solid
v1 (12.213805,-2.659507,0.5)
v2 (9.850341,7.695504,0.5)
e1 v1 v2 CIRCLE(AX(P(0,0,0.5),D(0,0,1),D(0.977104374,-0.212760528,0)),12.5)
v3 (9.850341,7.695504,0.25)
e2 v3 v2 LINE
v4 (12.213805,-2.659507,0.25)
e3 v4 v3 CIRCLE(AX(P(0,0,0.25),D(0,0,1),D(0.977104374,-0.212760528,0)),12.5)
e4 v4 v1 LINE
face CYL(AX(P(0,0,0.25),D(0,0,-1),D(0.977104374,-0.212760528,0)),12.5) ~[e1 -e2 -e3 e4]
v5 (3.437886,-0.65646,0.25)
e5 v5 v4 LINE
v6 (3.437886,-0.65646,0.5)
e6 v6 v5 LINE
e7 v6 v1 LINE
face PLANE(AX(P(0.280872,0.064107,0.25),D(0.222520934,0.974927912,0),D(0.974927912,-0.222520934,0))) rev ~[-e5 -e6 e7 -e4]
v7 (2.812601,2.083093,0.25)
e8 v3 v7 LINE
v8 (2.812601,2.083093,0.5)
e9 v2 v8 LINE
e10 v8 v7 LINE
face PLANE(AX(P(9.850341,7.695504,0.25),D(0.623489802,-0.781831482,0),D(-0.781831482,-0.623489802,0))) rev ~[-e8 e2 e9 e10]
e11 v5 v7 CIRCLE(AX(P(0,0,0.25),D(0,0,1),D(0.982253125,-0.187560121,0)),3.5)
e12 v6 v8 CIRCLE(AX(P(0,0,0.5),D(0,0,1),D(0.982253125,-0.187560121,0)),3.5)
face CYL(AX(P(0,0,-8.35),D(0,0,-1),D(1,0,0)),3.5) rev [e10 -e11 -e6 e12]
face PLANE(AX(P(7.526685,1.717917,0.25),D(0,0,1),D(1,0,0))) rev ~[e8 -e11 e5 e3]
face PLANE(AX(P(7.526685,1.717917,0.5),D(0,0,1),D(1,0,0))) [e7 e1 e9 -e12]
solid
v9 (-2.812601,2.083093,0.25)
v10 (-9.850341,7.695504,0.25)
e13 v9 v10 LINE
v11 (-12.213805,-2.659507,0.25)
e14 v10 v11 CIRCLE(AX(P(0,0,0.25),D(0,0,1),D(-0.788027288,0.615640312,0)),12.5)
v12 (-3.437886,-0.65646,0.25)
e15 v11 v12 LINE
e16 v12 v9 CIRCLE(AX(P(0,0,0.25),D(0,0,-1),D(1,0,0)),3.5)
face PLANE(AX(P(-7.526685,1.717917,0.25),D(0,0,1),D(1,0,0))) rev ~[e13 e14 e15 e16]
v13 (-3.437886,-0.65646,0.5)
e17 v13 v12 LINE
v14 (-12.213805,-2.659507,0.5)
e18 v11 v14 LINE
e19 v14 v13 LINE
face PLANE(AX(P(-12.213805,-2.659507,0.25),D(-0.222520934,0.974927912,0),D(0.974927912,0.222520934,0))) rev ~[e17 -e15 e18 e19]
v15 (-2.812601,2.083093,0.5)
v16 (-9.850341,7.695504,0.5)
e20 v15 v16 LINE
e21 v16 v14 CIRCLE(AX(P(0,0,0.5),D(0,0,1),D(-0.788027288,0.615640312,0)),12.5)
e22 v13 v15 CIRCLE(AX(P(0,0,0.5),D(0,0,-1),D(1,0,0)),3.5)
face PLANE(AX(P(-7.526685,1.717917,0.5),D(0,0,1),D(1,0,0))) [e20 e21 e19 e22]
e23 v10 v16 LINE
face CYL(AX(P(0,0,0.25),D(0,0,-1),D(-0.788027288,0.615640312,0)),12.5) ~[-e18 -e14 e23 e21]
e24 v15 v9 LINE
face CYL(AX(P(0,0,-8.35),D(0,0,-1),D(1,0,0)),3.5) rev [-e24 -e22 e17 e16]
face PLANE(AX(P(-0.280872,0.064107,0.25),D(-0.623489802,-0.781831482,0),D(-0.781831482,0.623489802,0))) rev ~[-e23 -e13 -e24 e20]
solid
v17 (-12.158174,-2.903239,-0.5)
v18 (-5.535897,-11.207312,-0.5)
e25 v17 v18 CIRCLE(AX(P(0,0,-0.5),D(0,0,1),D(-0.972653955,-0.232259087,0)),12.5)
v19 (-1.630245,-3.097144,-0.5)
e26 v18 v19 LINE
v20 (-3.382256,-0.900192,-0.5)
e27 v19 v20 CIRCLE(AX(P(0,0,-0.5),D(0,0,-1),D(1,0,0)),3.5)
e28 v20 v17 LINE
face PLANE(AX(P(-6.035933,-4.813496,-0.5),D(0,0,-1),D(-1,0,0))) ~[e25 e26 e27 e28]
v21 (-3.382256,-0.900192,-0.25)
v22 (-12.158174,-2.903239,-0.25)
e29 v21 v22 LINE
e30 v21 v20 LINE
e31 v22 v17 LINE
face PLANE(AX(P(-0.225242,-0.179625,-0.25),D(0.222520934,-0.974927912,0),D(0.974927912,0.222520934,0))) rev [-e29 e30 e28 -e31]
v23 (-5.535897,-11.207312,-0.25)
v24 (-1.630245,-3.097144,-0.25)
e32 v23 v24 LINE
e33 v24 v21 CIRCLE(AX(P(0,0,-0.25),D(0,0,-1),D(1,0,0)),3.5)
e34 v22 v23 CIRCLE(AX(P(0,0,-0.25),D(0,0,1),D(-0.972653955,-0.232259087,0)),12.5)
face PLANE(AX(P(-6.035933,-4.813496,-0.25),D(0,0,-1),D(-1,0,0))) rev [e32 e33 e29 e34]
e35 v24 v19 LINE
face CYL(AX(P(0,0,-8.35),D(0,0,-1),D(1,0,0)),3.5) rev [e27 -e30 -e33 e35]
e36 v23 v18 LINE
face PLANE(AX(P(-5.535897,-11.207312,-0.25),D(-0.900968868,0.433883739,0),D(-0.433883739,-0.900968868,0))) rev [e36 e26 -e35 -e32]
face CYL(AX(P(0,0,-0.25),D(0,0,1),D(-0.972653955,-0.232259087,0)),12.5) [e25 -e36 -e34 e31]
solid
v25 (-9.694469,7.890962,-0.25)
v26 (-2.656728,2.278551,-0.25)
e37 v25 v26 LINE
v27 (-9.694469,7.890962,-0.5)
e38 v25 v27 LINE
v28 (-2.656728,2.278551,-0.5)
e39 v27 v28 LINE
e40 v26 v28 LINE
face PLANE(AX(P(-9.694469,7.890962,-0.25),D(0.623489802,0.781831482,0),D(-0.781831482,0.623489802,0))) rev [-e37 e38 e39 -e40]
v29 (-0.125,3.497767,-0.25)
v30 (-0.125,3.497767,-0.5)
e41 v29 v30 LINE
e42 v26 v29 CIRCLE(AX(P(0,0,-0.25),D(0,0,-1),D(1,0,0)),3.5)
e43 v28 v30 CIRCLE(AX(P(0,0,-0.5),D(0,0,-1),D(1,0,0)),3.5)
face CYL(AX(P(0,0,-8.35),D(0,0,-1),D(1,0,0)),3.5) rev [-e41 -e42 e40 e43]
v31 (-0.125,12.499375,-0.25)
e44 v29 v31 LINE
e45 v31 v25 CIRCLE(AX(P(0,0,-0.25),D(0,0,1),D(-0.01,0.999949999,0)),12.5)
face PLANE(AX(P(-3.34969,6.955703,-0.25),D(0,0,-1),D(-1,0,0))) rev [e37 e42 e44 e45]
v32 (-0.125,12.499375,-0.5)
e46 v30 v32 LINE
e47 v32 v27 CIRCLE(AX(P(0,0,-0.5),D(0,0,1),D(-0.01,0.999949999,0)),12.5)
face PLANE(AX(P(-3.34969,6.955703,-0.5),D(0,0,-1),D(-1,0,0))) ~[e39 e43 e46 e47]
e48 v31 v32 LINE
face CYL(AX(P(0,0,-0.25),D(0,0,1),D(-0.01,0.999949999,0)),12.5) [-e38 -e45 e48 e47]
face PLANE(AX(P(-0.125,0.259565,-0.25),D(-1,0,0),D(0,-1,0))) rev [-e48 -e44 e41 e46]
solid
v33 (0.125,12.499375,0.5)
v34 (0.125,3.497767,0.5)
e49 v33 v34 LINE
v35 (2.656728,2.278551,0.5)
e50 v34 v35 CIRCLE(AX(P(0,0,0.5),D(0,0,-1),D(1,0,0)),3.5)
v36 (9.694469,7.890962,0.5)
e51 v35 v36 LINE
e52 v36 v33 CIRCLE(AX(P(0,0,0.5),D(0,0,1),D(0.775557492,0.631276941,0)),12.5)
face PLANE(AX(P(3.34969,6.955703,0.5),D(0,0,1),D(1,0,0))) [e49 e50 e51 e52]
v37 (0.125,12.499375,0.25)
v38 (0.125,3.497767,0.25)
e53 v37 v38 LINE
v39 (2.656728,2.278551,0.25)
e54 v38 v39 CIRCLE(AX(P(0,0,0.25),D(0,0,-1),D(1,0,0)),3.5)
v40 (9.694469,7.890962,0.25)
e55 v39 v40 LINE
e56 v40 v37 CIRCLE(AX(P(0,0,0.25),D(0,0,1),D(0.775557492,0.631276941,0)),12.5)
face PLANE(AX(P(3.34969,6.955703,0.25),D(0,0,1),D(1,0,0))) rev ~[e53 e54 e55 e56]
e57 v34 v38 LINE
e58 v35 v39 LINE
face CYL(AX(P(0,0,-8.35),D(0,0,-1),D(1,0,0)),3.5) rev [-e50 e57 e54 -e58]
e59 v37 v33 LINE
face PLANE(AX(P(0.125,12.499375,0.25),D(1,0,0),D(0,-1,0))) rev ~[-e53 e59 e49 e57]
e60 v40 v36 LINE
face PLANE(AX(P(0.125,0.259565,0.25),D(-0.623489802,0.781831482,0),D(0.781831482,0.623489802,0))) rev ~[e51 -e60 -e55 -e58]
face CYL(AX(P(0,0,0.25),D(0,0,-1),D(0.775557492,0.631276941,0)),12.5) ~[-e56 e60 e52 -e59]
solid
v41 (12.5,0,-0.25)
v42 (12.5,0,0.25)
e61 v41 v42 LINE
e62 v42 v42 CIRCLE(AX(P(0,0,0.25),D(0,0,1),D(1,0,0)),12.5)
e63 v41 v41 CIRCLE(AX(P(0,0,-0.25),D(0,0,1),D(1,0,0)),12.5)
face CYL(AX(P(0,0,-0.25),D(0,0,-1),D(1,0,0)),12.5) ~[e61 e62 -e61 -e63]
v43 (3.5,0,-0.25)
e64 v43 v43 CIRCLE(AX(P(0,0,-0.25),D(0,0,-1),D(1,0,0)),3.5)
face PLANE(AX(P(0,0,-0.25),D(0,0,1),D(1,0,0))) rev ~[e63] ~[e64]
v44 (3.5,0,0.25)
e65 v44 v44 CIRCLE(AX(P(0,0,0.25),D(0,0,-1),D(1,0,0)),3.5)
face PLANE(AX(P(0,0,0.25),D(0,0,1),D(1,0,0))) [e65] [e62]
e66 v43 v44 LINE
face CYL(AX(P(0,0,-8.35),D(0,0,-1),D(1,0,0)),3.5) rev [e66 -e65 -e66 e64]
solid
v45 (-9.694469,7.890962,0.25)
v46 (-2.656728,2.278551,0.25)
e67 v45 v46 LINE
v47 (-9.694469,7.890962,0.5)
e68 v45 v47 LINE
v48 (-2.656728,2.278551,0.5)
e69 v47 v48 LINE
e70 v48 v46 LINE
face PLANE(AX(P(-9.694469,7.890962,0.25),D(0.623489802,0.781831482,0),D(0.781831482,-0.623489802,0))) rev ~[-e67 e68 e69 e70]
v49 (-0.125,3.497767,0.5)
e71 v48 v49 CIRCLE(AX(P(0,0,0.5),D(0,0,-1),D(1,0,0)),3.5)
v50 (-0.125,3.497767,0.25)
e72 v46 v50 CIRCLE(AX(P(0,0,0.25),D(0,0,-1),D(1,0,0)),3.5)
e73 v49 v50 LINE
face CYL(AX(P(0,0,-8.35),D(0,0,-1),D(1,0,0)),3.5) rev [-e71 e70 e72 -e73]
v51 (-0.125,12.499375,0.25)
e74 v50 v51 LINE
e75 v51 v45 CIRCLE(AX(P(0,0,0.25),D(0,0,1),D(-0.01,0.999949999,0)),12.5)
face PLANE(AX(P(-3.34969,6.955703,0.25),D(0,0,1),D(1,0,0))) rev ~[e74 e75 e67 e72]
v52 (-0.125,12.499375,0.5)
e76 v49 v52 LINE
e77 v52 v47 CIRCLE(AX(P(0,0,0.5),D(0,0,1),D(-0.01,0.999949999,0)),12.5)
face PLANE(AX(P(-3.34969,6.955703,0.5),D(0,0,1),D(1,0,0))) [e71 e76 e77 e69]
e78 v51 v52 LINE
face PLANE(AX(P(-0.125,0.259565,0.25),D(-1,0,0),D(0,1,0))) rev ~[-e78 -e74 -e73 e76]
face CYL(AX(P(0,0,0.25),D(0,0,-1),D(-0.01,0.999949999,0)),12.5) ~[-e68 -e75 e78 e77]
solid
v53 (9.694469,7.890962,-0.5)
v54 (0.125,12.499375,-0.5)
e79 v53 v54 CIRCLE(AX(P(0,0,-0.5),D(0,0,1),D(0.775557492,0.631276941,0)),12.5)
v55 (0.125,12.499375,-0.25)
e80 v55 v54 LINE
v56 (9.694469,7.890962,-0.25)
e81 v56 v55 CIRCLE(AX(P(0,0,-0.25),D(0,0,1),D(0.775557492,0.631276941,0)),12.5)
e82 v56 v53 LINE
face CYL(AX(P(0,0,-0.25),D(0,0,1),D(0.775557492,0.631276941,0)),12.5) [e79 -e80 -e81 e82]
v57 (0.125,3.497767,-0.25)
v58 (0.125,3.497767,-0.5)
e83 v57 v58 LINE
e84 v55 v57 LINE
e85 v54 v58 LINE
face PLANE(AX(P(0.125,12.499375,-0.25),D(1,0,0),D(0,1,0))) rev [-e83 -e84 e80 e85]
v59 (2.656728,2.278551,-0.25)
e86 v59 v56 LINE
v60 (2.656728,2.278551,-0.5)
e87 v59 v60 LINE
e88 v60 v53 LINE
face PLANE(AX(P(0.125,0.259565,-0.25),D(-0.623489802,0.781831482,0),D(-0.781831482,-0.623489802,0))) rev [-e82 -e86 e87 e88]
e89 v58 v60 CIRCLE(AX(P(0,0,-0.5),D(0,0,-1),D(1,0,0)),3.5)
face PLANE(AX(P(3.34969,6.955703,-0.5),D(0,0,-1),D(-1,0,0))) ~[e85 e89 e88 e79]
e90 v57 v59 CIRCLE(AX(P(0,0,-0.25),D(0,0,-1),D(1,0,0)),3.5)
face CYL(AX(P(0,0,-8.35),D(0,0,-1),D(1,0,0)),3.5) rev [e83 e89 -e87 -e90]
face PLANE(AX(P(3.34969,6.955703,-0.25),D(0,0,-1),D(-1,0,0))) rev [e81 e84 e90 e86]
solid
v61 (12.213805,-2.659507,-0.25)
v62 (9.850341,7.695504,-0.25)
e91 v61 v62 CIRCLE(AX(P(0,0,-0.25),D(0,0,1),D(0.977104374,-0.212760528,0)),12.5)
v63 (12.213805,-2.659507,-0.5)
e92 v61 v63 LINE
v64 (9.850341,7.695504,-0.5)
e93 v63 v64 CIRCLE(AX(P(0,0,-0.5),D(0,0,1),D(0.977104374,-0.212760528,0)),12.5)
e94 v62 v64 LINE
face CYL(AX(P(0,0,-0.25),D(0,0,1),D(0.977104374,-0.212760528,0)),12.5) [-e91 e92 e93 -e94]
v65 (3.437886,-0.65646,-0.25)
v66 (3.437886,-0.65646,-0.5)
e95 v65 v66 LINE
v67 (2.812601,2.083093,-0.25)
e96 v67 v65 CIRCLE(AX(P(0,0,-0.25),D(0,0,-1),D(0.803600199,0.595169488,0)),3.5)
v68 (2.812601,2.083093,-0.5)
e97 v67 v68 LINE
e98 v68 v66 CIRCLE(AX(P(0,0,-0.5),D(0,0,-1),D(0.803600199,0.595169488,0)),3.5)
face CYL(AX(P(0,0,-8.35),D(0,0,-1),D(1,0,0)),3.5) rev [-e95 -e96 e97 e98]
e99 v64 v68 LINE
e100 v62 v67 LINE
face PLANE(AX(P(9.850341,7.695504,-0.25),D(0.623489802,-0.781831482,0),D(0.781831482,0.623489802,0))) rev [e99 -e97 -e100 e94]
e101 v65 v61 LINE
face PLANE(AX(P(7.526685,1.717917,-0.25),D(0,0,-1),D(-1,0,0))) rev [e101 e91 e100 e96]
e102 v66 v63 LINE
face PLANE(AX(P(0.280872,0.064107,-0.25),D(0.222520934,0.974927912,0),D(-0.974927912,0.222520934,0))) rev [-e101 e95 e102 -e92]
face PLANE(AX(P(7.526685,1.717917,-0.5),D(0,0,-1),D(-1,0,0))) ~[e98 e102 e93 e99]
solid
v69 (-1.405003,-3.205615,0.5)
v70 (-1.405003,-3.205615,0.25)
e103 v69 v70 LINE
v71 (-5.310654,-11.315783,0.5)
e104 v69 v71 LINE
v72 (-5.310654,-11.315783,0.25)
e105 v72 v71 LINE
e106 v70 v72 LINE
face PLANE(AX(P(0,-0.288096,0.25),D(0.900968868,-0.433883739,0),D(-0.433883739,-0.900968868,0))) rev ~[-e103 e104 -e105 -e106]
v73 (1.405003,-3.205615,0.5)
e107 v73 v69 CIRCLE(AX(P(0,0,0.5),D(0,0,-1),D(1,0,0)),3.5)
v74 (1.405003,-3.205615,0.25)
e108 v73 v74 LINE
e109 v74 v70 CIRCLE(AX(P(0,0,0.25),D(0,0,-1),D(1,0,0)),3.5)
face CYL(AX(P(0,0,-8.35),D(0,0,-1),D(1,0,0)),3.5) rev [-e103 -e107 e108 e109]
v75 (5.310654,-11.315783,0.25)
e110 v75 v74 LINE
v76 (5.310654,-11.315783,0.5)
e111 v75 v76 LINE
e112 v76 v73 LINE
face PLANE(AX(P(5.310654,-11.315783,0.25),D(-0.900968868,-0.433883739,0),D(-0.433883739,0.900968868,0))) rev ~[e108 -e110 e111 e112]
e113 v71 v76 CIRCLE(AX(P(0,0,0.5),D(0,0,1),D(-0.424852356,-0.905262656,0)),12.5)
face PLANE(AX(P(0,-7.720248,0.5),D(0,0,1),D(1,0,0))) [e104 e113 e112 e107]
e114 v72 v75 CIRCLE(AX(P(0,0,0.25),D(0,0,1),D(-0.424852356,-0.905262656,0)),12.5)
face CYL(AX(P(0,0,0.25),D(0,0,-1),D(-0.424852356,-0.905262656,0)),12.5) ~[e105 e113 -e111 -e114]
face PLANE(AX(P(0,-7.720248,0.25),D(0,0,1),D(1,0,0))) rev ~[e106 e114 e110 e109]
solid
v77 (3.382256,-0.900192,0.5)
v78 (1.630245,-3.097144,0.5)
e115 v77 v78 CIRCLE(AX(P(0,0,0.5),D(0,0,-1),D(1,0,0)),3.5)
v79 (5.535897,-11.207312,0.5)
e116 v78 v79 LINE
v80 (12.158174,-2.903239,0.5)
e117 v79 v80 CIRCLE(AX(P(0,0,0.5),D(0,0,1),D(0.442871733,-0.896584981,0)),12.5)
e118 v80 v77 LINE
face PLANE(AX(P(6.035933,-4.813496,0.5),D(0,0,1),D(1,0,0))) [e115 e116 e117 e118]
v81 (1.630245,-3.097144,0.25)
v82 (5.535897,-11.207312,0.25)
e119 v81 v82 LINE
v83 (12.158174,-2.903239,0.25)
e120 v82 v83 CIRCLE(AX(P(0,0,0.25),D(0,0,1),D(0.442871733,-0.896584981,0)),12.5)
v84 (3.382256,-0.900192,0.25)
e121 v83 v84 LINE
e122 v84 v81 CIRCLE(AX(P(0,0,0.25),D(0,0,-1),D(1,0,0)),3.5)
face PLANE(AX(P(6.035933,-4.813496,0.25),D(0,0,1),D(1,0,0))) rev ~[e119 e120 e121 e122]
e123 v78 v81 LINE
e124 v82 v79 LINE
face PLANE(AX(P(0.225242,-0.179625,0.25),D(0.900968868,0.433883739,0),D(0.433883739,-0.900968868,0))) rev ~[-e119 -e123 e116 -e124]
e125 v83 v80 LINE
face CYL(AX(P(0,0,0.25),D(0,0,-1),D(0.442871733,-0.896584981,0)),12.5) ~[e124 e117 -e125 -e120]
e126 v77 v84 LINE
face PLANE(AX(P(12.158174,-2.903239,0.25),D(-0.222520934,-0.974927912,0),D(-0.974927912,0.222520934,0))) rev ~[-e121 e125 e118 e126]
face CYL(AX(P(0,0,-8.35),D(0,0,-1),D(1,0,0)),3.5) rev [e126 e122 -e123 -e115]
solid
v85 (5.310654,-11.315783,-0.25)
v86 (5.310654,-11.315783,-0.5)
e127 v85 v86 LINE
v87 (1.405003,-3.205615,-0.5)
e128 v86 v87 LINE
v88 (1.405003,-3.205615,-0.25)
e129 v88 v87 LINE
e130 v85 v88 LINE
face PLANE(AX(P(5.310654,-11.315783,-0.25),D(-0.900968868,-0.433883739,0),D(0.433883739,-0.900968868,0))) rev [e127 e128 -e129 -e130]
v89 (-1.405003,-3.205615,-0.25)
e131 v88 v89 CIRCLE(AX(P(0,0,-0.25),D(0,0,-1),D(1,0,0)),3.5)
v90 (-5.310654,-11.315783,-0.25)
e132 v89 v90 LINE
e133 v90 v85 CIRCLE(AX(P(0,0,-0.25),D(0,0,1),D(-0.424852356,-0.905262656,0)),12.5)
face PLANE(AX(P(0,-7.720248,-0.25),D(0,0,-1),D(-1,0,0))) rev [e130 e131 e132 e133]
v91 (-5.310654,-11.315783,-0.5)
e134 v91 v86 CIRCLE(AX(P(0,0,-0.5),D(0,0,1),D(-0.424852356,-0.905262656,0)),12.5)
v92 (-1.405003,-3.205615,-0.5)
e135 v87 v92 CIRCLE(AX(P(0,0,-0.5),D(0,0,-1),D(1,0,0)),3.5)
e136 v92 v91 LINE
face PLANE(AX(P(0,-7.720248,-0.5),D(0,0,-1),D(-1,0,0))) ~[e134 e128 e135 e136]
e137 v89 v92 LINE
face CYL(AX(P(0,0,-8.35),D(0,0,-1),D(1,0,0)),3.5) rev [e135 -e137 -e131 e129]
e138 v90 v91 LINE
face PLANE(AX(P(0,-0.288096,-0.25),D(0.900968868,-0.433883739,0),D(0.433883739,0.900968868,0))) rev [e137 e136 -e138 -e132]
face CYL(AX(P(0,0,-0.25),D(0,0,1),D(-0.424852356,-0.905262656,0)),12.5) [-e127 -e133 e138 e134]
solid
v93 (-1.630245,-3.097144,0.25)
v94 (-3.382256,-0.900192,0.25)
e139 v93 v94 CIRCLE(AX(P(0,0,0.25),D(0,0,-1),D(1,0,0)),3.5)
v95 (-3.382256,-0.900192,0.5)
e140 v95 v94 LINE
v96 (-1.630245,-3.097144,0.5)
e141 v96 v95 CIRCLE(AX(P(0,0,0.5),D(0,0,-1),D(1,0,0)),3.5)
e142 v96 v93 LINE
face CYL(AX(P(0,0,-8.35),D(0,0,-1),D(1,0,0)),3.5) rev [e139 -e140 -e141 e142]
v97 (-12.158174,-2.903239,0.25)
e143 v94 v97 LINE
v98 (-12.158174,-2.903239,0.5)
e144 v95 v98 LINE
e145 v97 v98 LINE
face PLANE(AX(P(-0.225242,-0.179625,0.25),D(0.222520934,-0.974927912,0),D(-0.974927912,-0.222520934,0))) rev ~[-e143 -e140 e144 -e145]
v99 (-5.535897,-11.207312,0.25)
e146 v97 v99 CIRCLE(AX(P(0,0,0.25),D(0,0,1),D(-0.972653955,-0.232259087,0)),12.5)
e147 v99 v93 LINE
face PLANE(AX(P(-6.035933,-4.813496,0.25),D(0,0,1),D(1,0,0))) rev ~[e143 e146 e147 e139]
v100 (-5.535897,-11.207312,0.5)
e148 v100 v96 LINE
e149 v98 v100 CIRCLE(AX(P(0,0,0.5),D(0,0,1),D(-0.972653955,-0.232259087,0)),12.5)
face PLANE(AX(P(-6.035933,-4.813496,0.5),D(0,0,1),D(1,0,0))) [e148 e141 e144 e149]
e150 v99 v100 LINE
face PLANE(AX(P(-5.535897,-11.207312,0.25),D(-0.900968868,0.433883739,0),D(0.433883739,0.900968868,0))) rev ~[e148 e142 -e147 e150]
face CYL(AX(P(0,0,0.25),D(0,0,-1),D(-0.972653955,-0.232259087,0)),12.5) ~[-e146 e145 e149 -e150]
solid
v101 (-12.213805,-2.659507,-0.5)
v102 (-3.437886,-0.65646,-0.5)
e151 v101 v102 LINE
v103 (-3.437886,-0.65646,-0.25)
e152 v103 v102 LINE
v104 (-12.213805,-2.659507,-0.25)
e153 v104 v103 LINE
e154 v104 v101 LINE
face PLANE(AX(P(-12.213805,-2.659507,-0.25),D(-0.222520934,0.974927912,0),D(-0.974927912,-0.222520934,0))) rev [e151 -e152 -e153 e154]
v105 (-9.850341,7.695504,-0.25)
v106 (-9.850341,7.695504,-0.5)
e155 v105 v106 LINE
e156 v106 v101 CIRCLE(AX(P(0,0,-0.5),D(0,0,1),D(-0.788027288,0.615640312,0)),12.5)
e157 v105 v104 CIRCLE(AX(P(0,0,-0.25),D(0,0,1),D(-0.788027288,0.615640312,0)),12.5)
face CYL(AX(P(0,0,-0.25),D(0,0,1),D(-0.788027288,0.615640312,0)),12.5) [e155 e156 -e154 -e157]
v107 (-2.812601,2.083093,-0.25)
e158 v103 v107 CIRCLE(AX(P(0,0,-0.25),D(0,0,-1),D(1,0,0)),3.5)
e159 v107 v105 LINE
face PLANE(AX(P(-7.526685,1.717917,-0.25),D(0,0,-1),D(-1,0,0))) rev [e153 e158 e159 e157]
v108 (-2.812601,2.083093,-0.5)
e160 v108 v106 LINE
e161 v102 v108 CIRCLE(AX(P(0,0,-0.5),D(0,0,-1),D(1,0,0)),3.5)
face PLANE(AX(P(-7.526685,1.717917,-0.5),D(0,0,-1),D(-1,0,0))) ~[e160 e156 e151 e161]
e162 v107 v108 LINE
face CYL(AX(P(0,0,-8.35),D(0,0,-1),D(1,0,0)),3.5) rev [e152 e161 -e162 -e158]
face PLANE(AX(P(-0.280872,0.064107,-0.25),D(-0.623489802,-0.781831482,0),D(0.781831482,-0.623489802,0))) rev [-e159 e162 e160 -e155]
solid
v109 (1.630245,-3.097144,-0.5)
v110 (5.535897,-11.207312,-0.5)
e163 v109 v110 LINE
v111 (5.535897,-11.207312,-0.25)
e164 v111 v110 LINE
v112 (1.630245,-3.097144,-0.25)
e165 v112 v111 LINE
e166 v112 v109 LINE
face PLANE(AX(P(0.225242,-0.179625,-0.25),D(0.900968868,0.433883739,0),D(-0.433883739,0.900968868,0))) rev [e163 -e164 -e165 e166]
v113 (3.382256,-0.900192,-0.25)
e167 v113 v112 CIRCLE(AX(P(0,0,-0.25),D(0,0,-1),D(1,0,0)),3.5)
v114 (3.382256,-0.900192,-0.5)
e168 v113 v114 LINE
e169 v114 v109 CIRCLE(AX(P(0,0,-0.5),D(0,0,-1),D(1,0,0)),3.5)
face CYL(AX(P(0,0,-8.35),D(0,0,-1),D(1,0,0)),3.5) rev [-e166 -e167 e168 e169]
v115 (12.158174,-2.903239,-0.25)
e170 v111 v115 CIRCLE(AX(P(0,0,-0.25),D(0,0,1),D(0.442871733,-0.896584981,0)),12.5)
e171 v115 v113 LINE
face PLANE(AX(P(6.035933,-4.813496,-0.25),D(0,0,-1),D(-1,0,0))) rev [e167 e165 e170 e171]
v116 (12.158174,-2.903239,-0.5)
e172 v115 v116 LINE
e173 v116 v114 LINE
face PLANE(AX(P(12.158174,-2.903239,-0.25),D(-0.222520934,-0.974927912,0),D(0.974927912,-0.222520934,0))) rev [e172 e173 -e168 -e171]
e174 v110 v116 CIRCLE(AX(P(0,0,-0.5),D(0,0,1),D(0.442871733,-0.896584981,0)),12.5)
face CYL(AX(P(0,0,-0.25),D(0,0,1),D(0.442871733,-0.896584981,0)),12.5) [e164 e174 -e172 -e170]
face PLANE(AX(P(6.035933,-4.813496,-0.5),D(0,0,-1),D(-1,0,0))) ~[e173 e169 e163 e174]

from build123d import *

# Parameters (mm, degrees)
BOSS_EXTRUDE1_DEPTH      = 0.25
BOSS_EXTRUDE1_DEPTH_BACK = 0.25
SKETCH1_R                = 12.5
BOSS_EXTRUDE2_DEPTH      = 0.25
BOSS_EXTRUDE2_2_DEPTH    = 0.25
BOSS_EXTRUDE2_3_DEPTH    = 0.25
BOSS_EXTRUDE2_4_DEPTH    = 0.25
BOSS_EXTRUDE2_5_DEPTH    = 0.25
BOSS_EXTRUDE2_6_DEPTH    = 0.25
BOSS_EXTRUDE2_7_DEPTH    = 0.25
CUT_EXTRUDE2_DEPTH       = 10
CUT_EXTRUDE2_DEPTH_BACK  = 8.35
SKETCH3_R                = 3.5


with BuildPart() as part:
    # Sketch1 → Boss-Extrude1 (new, two sides: drawn at the far end of the back side and taken through both)
    with BuildSketch(Plane.XY.offset(-BOSS_EXTRUDE1_DEPTH_BACK)):
        Circle(SKETCH1_R)
    extrude(amount=BOSS_EXTRUDE1_DEPTH + BOSS_EXTRUDE1_DEPTH_BACK)


with BuildPart() as body_2:
    # Sketch2 → Boss-Extrude2 (new body)
    with BuildSketch(Plane.XY.offset(0.25)):
        with BuildLine():
            Line((0.125, 12.499374984), (0.125, 0.259565175))
            Line((0.125, 0.259565175), (9.694468649, 7.890961768))
            ThreePointArc((9.694468649, 7.890961768), (5.423546739, 11.262110849), (0.125, 12.499374984))
        make_face()
    extrude(amount=BOSS_EXTRUDE2_DEPTH)


with BuildPart() as body_3:
    # Sketch2 → Boss-Extrude2 2 (new body)
    with BuildSketch(Plane.XY.offset(0.25)):
        with BuildLine():
            Line((-9.694468649, 7.890961768), (-0.125, 0.259565175))
            Line((-0.125, 0.259565175), (-0.125, 12.499374984))
            ThreePointArc((-0.125, 12.499374984), (-5.423546739, 11.262110849), (-9.694468649, 7.890961768))
        make_face()
    extrude(amount=BOSS_EXTRUDE2_2_DEPTH)


with BuildPart() as body_4:
    # Sketch2 → Boss-Extrude2 3 (new body)
    with BuildSketch(Plane.XY.offset(0.25)):
        with BuildLine():
            Line((-12.213804674, -2.659506606), (-0.28087245, 0.064107304))
            Line((-0.28087245, 0.064107304), (-9.850341099, 7.695503897))
            ThreePointArc((-9.850341099, 7.695503897), (-12.186598902, 2.781511674), (-12.213804674, -2.659506606))
        make_face()
    extrude(amount=BOSS_EXTRUDE2_3_DEPTH)


with BuildPart() as body_5:
    # Sketch2 → Boss-Extrude2 4 (new body)
    with BuildSketch(Plane.XY.offset(0.25)):
        with BuildLine():
            Line((9.850341099, 7.695503897), (0.28087245, 0.064107304))
            Line((0.28087245, 0.064107304), (12.213804674, -2.659506606))
            ThreePointArc((12.213804674, -2.659506606), (12.186598902, 2.781511674), (9.850341099, 7.695503897))
        make_face()
    extrude(amount=BOSS_EXTRUDE2_4_DEPTH)


with BuildPart() as body_6:
    # Sketch2 → Boss-Extrude2 5 (new body)
    with BuildSketch(Plane.XY.offset(0.25)):
        with BuildLine():
            Line((12.15817444, -2.903238584), (0.225242217, -0.179624674))
            Line((0.225242217, -0.179624674), (5.535896663, -11.207312262))
            ThreePointArc((5.535896663, -11.207312262), (9.772893531, -7.793622523), (12.15817444, -2.903238584))
        make_face()
    extrude(amount=BOSS_EXTRUDE2_5_DEPTH)


with BuildPart() as body_7:
    # Sketch2 → Boss-Extrude2 6 (new body)
    with BuildSketch(Plane.XY.offset(0.25)):
        with BuildLine():
            Line((5.310654446, -11.315783197), (0, -0.288095609))
            Line((0, -0.288095609), (-5.310654446, -11.315783197))
            ThreePointArc((-5.310654446, -11.315783197), (0, -12.5), (5.310654446, -11.315783197))
        make_face()
    extrude(amount=BOSS_EXTRUDE2_6_DEPTH)


with BuildPart() as body_8:
    # Sketch2 → Boss-Extrude2 7 (new body)
    with BuildSketch(Plane.XY.offset(0.25)):
        with BuildLine():
            Line((-5.535896663, -11.207312262), (-0.225242217, -0.179624674))
            Line((-0.225242217, -0.179624674), (-12.15817444, -2.903238584))
            ThreePointArc((-12.15817444, -2.903238584), (-9.772893531, -7.793622523), (-5.535896663, -11.207312262))
        make_face()
    extrude(amount=BOSS_EXTRUDE2_7_DEPTH)


with BuildPart() as body_9:
    # Mirror5: mirrored copy
    add(body_2.part.mirror(Plane.XY))


with BuildPart() as body_10:
    # Mirror5 2: mirrored copy
    add(body_3.part.mirror(Plane.XY))


with BuildPart() as body_11:
    # Mirror5 3: mirrored copy
    add(body_5.part.mirror(Plane.XY))


with BuildPart() as body_12:
    # Mirror5 4: mirrored copy
    add(body_6.part.mirror(Plane.XY))


with BuildPart() as body_13:
    # Mirror5 5: mirrored copy
    add(body_7.part.mirror(Plane.XY))


with BuildPart() as body_14:
    # Mirror5 6: mirrored copy
    add(body_8.part.mirror(Plane.XY))


with BuildPart() as body_15:
    # Mirror5 7: mirrored copy
    add(body_4.part.mirror(Plane.XY))


with BuildPart() as cut_extrude2_tool:
    # Sketch3 → Cut-Extrude2 (new, two sides: drawn at the far end of the back side and taken through both)
    with BuildSketch(Plane.XY.offset(-CUT_EXTRUDE2_DEPTH_BACK)):
        Circle(SKETCH3_R)
    extrude(amount=CUT_EXTRUDE2_DEPTH + CUT_EXTRUDE2_DEPTH_BACK)


with BuildPart() as part_1:
    add(part.part)

    # Cut-Extrude2: cut by cut_extrude2_tool
    add(cut_extrude2_tool.part, mode=Mode.SUBTRACT)


with BuildPart() as body_2_1:
    add(body_2.part)

    # Cut-Extrude2: cut by cut_extrude2_tool
    add(cut_extrude2_tool.part, mode=Mode.SUBTRACT)


with BuildPart() as body_3_1:
    add(body_3.part)

    # Cut-Extrude2: cut by cut_extrude2_tool
    add(cut_extrude2_tool.part, mode=Mode.SUBTRACT)


with BuildPart() as body_4_1:
    add(body_4.part)

    # Cut-Extrude2: cut by cut_extrude2_tool
    add(cut_extrude2_tool.part, mode=Mode.SUBTRACT)


with BuildPart() as body_5_1:
    add(body_5.part)

    # Cut-Extrude2: cut by cut_extrude2_tool
    add(cut_extrude2_tool.part, mode=Mode.SUBTRACT)


with BuildPart() as body_6_1:
    add(body_6.part)

    # Cut-Extrude2: cut by cut_extrude2_tool
    add(cut_extrude2_tool.part, mode=Mode.SUBTRACT)


with BuildPart() as body_7_1:
    add(body_7.part)

    # Cut-Extrude2: cut by cut_extrude2_tool
    add(cut_extrude2_tool.part, mode=Mode.SUBTRACT)


with BuildPart() as body_8_1:
    add(body_8.part)

    # Cut-Extrude2: cut by cut_extrude2_tool
    add(cut_extrude2_tool.part, mode=Mode.SUBTRACT)


with BuildPart() as body_9_1:
    add(body_9.part)

    # Cut-Extrude2: cut by cut_extrude2_tool
    add(cut_extrude2_tool.part, mode=Mode.SUBTRACT)


with BuildPart() as body_10_1:
    add(body_10.part)

    # Cut-Extrude2: cut by cut_extrude2_tool
    add(cut_extrude2_tool.part, mode=Mode.SUBTRACT)


with BuildPart() as body_11_1:
    add(body_11.part)

    # Cut-Extrude2: cut by cut_extrude2_tool
    add(cut_extrude2_tool.part, mode=Mode.SUBTRACT)


with BuildPart() as body_12_1:
    add(body_12.part)

    # Cut-Extrude2: cut by cut_extrude2_tool
    add(cut_extrude2_tool.part, mode=Mode.SUBTRACT)


with BuildPart() as body_13_1:
    add(body_13.part)

    # Cut-Extrude2: cut by cut_extrude2_tool
    add(cut_extrude2_tool.part, mode=Mode.SUBTRACT)


with BuildPart() as body_14_1:
    add(body_14.part)

    # Cut-Extrude2: cut by cut_extrude2_tool
    add(cut_extrude2_tool.part, mode=Mode.SUBTRACT)


with BuildPart() as body_15_1:
    add(body_15.part)

    # Cut-Extrude2: cut by cut_extrude2_tool
    add(cut_extrude2_tool.part, mode=Mode.SUBTRACT)


solid = Compound([part_1.part, body_2_1.part, body_3_1.part, body_4_1.part, body_5_1.part, body_6_1.part, body_7_1.part, body_8_1.part, body_9_1.part, body_10_1.part, body_11_1.part, body_12_1.part, body_13_1.part, body_14_1.part, body_15_1.part])
